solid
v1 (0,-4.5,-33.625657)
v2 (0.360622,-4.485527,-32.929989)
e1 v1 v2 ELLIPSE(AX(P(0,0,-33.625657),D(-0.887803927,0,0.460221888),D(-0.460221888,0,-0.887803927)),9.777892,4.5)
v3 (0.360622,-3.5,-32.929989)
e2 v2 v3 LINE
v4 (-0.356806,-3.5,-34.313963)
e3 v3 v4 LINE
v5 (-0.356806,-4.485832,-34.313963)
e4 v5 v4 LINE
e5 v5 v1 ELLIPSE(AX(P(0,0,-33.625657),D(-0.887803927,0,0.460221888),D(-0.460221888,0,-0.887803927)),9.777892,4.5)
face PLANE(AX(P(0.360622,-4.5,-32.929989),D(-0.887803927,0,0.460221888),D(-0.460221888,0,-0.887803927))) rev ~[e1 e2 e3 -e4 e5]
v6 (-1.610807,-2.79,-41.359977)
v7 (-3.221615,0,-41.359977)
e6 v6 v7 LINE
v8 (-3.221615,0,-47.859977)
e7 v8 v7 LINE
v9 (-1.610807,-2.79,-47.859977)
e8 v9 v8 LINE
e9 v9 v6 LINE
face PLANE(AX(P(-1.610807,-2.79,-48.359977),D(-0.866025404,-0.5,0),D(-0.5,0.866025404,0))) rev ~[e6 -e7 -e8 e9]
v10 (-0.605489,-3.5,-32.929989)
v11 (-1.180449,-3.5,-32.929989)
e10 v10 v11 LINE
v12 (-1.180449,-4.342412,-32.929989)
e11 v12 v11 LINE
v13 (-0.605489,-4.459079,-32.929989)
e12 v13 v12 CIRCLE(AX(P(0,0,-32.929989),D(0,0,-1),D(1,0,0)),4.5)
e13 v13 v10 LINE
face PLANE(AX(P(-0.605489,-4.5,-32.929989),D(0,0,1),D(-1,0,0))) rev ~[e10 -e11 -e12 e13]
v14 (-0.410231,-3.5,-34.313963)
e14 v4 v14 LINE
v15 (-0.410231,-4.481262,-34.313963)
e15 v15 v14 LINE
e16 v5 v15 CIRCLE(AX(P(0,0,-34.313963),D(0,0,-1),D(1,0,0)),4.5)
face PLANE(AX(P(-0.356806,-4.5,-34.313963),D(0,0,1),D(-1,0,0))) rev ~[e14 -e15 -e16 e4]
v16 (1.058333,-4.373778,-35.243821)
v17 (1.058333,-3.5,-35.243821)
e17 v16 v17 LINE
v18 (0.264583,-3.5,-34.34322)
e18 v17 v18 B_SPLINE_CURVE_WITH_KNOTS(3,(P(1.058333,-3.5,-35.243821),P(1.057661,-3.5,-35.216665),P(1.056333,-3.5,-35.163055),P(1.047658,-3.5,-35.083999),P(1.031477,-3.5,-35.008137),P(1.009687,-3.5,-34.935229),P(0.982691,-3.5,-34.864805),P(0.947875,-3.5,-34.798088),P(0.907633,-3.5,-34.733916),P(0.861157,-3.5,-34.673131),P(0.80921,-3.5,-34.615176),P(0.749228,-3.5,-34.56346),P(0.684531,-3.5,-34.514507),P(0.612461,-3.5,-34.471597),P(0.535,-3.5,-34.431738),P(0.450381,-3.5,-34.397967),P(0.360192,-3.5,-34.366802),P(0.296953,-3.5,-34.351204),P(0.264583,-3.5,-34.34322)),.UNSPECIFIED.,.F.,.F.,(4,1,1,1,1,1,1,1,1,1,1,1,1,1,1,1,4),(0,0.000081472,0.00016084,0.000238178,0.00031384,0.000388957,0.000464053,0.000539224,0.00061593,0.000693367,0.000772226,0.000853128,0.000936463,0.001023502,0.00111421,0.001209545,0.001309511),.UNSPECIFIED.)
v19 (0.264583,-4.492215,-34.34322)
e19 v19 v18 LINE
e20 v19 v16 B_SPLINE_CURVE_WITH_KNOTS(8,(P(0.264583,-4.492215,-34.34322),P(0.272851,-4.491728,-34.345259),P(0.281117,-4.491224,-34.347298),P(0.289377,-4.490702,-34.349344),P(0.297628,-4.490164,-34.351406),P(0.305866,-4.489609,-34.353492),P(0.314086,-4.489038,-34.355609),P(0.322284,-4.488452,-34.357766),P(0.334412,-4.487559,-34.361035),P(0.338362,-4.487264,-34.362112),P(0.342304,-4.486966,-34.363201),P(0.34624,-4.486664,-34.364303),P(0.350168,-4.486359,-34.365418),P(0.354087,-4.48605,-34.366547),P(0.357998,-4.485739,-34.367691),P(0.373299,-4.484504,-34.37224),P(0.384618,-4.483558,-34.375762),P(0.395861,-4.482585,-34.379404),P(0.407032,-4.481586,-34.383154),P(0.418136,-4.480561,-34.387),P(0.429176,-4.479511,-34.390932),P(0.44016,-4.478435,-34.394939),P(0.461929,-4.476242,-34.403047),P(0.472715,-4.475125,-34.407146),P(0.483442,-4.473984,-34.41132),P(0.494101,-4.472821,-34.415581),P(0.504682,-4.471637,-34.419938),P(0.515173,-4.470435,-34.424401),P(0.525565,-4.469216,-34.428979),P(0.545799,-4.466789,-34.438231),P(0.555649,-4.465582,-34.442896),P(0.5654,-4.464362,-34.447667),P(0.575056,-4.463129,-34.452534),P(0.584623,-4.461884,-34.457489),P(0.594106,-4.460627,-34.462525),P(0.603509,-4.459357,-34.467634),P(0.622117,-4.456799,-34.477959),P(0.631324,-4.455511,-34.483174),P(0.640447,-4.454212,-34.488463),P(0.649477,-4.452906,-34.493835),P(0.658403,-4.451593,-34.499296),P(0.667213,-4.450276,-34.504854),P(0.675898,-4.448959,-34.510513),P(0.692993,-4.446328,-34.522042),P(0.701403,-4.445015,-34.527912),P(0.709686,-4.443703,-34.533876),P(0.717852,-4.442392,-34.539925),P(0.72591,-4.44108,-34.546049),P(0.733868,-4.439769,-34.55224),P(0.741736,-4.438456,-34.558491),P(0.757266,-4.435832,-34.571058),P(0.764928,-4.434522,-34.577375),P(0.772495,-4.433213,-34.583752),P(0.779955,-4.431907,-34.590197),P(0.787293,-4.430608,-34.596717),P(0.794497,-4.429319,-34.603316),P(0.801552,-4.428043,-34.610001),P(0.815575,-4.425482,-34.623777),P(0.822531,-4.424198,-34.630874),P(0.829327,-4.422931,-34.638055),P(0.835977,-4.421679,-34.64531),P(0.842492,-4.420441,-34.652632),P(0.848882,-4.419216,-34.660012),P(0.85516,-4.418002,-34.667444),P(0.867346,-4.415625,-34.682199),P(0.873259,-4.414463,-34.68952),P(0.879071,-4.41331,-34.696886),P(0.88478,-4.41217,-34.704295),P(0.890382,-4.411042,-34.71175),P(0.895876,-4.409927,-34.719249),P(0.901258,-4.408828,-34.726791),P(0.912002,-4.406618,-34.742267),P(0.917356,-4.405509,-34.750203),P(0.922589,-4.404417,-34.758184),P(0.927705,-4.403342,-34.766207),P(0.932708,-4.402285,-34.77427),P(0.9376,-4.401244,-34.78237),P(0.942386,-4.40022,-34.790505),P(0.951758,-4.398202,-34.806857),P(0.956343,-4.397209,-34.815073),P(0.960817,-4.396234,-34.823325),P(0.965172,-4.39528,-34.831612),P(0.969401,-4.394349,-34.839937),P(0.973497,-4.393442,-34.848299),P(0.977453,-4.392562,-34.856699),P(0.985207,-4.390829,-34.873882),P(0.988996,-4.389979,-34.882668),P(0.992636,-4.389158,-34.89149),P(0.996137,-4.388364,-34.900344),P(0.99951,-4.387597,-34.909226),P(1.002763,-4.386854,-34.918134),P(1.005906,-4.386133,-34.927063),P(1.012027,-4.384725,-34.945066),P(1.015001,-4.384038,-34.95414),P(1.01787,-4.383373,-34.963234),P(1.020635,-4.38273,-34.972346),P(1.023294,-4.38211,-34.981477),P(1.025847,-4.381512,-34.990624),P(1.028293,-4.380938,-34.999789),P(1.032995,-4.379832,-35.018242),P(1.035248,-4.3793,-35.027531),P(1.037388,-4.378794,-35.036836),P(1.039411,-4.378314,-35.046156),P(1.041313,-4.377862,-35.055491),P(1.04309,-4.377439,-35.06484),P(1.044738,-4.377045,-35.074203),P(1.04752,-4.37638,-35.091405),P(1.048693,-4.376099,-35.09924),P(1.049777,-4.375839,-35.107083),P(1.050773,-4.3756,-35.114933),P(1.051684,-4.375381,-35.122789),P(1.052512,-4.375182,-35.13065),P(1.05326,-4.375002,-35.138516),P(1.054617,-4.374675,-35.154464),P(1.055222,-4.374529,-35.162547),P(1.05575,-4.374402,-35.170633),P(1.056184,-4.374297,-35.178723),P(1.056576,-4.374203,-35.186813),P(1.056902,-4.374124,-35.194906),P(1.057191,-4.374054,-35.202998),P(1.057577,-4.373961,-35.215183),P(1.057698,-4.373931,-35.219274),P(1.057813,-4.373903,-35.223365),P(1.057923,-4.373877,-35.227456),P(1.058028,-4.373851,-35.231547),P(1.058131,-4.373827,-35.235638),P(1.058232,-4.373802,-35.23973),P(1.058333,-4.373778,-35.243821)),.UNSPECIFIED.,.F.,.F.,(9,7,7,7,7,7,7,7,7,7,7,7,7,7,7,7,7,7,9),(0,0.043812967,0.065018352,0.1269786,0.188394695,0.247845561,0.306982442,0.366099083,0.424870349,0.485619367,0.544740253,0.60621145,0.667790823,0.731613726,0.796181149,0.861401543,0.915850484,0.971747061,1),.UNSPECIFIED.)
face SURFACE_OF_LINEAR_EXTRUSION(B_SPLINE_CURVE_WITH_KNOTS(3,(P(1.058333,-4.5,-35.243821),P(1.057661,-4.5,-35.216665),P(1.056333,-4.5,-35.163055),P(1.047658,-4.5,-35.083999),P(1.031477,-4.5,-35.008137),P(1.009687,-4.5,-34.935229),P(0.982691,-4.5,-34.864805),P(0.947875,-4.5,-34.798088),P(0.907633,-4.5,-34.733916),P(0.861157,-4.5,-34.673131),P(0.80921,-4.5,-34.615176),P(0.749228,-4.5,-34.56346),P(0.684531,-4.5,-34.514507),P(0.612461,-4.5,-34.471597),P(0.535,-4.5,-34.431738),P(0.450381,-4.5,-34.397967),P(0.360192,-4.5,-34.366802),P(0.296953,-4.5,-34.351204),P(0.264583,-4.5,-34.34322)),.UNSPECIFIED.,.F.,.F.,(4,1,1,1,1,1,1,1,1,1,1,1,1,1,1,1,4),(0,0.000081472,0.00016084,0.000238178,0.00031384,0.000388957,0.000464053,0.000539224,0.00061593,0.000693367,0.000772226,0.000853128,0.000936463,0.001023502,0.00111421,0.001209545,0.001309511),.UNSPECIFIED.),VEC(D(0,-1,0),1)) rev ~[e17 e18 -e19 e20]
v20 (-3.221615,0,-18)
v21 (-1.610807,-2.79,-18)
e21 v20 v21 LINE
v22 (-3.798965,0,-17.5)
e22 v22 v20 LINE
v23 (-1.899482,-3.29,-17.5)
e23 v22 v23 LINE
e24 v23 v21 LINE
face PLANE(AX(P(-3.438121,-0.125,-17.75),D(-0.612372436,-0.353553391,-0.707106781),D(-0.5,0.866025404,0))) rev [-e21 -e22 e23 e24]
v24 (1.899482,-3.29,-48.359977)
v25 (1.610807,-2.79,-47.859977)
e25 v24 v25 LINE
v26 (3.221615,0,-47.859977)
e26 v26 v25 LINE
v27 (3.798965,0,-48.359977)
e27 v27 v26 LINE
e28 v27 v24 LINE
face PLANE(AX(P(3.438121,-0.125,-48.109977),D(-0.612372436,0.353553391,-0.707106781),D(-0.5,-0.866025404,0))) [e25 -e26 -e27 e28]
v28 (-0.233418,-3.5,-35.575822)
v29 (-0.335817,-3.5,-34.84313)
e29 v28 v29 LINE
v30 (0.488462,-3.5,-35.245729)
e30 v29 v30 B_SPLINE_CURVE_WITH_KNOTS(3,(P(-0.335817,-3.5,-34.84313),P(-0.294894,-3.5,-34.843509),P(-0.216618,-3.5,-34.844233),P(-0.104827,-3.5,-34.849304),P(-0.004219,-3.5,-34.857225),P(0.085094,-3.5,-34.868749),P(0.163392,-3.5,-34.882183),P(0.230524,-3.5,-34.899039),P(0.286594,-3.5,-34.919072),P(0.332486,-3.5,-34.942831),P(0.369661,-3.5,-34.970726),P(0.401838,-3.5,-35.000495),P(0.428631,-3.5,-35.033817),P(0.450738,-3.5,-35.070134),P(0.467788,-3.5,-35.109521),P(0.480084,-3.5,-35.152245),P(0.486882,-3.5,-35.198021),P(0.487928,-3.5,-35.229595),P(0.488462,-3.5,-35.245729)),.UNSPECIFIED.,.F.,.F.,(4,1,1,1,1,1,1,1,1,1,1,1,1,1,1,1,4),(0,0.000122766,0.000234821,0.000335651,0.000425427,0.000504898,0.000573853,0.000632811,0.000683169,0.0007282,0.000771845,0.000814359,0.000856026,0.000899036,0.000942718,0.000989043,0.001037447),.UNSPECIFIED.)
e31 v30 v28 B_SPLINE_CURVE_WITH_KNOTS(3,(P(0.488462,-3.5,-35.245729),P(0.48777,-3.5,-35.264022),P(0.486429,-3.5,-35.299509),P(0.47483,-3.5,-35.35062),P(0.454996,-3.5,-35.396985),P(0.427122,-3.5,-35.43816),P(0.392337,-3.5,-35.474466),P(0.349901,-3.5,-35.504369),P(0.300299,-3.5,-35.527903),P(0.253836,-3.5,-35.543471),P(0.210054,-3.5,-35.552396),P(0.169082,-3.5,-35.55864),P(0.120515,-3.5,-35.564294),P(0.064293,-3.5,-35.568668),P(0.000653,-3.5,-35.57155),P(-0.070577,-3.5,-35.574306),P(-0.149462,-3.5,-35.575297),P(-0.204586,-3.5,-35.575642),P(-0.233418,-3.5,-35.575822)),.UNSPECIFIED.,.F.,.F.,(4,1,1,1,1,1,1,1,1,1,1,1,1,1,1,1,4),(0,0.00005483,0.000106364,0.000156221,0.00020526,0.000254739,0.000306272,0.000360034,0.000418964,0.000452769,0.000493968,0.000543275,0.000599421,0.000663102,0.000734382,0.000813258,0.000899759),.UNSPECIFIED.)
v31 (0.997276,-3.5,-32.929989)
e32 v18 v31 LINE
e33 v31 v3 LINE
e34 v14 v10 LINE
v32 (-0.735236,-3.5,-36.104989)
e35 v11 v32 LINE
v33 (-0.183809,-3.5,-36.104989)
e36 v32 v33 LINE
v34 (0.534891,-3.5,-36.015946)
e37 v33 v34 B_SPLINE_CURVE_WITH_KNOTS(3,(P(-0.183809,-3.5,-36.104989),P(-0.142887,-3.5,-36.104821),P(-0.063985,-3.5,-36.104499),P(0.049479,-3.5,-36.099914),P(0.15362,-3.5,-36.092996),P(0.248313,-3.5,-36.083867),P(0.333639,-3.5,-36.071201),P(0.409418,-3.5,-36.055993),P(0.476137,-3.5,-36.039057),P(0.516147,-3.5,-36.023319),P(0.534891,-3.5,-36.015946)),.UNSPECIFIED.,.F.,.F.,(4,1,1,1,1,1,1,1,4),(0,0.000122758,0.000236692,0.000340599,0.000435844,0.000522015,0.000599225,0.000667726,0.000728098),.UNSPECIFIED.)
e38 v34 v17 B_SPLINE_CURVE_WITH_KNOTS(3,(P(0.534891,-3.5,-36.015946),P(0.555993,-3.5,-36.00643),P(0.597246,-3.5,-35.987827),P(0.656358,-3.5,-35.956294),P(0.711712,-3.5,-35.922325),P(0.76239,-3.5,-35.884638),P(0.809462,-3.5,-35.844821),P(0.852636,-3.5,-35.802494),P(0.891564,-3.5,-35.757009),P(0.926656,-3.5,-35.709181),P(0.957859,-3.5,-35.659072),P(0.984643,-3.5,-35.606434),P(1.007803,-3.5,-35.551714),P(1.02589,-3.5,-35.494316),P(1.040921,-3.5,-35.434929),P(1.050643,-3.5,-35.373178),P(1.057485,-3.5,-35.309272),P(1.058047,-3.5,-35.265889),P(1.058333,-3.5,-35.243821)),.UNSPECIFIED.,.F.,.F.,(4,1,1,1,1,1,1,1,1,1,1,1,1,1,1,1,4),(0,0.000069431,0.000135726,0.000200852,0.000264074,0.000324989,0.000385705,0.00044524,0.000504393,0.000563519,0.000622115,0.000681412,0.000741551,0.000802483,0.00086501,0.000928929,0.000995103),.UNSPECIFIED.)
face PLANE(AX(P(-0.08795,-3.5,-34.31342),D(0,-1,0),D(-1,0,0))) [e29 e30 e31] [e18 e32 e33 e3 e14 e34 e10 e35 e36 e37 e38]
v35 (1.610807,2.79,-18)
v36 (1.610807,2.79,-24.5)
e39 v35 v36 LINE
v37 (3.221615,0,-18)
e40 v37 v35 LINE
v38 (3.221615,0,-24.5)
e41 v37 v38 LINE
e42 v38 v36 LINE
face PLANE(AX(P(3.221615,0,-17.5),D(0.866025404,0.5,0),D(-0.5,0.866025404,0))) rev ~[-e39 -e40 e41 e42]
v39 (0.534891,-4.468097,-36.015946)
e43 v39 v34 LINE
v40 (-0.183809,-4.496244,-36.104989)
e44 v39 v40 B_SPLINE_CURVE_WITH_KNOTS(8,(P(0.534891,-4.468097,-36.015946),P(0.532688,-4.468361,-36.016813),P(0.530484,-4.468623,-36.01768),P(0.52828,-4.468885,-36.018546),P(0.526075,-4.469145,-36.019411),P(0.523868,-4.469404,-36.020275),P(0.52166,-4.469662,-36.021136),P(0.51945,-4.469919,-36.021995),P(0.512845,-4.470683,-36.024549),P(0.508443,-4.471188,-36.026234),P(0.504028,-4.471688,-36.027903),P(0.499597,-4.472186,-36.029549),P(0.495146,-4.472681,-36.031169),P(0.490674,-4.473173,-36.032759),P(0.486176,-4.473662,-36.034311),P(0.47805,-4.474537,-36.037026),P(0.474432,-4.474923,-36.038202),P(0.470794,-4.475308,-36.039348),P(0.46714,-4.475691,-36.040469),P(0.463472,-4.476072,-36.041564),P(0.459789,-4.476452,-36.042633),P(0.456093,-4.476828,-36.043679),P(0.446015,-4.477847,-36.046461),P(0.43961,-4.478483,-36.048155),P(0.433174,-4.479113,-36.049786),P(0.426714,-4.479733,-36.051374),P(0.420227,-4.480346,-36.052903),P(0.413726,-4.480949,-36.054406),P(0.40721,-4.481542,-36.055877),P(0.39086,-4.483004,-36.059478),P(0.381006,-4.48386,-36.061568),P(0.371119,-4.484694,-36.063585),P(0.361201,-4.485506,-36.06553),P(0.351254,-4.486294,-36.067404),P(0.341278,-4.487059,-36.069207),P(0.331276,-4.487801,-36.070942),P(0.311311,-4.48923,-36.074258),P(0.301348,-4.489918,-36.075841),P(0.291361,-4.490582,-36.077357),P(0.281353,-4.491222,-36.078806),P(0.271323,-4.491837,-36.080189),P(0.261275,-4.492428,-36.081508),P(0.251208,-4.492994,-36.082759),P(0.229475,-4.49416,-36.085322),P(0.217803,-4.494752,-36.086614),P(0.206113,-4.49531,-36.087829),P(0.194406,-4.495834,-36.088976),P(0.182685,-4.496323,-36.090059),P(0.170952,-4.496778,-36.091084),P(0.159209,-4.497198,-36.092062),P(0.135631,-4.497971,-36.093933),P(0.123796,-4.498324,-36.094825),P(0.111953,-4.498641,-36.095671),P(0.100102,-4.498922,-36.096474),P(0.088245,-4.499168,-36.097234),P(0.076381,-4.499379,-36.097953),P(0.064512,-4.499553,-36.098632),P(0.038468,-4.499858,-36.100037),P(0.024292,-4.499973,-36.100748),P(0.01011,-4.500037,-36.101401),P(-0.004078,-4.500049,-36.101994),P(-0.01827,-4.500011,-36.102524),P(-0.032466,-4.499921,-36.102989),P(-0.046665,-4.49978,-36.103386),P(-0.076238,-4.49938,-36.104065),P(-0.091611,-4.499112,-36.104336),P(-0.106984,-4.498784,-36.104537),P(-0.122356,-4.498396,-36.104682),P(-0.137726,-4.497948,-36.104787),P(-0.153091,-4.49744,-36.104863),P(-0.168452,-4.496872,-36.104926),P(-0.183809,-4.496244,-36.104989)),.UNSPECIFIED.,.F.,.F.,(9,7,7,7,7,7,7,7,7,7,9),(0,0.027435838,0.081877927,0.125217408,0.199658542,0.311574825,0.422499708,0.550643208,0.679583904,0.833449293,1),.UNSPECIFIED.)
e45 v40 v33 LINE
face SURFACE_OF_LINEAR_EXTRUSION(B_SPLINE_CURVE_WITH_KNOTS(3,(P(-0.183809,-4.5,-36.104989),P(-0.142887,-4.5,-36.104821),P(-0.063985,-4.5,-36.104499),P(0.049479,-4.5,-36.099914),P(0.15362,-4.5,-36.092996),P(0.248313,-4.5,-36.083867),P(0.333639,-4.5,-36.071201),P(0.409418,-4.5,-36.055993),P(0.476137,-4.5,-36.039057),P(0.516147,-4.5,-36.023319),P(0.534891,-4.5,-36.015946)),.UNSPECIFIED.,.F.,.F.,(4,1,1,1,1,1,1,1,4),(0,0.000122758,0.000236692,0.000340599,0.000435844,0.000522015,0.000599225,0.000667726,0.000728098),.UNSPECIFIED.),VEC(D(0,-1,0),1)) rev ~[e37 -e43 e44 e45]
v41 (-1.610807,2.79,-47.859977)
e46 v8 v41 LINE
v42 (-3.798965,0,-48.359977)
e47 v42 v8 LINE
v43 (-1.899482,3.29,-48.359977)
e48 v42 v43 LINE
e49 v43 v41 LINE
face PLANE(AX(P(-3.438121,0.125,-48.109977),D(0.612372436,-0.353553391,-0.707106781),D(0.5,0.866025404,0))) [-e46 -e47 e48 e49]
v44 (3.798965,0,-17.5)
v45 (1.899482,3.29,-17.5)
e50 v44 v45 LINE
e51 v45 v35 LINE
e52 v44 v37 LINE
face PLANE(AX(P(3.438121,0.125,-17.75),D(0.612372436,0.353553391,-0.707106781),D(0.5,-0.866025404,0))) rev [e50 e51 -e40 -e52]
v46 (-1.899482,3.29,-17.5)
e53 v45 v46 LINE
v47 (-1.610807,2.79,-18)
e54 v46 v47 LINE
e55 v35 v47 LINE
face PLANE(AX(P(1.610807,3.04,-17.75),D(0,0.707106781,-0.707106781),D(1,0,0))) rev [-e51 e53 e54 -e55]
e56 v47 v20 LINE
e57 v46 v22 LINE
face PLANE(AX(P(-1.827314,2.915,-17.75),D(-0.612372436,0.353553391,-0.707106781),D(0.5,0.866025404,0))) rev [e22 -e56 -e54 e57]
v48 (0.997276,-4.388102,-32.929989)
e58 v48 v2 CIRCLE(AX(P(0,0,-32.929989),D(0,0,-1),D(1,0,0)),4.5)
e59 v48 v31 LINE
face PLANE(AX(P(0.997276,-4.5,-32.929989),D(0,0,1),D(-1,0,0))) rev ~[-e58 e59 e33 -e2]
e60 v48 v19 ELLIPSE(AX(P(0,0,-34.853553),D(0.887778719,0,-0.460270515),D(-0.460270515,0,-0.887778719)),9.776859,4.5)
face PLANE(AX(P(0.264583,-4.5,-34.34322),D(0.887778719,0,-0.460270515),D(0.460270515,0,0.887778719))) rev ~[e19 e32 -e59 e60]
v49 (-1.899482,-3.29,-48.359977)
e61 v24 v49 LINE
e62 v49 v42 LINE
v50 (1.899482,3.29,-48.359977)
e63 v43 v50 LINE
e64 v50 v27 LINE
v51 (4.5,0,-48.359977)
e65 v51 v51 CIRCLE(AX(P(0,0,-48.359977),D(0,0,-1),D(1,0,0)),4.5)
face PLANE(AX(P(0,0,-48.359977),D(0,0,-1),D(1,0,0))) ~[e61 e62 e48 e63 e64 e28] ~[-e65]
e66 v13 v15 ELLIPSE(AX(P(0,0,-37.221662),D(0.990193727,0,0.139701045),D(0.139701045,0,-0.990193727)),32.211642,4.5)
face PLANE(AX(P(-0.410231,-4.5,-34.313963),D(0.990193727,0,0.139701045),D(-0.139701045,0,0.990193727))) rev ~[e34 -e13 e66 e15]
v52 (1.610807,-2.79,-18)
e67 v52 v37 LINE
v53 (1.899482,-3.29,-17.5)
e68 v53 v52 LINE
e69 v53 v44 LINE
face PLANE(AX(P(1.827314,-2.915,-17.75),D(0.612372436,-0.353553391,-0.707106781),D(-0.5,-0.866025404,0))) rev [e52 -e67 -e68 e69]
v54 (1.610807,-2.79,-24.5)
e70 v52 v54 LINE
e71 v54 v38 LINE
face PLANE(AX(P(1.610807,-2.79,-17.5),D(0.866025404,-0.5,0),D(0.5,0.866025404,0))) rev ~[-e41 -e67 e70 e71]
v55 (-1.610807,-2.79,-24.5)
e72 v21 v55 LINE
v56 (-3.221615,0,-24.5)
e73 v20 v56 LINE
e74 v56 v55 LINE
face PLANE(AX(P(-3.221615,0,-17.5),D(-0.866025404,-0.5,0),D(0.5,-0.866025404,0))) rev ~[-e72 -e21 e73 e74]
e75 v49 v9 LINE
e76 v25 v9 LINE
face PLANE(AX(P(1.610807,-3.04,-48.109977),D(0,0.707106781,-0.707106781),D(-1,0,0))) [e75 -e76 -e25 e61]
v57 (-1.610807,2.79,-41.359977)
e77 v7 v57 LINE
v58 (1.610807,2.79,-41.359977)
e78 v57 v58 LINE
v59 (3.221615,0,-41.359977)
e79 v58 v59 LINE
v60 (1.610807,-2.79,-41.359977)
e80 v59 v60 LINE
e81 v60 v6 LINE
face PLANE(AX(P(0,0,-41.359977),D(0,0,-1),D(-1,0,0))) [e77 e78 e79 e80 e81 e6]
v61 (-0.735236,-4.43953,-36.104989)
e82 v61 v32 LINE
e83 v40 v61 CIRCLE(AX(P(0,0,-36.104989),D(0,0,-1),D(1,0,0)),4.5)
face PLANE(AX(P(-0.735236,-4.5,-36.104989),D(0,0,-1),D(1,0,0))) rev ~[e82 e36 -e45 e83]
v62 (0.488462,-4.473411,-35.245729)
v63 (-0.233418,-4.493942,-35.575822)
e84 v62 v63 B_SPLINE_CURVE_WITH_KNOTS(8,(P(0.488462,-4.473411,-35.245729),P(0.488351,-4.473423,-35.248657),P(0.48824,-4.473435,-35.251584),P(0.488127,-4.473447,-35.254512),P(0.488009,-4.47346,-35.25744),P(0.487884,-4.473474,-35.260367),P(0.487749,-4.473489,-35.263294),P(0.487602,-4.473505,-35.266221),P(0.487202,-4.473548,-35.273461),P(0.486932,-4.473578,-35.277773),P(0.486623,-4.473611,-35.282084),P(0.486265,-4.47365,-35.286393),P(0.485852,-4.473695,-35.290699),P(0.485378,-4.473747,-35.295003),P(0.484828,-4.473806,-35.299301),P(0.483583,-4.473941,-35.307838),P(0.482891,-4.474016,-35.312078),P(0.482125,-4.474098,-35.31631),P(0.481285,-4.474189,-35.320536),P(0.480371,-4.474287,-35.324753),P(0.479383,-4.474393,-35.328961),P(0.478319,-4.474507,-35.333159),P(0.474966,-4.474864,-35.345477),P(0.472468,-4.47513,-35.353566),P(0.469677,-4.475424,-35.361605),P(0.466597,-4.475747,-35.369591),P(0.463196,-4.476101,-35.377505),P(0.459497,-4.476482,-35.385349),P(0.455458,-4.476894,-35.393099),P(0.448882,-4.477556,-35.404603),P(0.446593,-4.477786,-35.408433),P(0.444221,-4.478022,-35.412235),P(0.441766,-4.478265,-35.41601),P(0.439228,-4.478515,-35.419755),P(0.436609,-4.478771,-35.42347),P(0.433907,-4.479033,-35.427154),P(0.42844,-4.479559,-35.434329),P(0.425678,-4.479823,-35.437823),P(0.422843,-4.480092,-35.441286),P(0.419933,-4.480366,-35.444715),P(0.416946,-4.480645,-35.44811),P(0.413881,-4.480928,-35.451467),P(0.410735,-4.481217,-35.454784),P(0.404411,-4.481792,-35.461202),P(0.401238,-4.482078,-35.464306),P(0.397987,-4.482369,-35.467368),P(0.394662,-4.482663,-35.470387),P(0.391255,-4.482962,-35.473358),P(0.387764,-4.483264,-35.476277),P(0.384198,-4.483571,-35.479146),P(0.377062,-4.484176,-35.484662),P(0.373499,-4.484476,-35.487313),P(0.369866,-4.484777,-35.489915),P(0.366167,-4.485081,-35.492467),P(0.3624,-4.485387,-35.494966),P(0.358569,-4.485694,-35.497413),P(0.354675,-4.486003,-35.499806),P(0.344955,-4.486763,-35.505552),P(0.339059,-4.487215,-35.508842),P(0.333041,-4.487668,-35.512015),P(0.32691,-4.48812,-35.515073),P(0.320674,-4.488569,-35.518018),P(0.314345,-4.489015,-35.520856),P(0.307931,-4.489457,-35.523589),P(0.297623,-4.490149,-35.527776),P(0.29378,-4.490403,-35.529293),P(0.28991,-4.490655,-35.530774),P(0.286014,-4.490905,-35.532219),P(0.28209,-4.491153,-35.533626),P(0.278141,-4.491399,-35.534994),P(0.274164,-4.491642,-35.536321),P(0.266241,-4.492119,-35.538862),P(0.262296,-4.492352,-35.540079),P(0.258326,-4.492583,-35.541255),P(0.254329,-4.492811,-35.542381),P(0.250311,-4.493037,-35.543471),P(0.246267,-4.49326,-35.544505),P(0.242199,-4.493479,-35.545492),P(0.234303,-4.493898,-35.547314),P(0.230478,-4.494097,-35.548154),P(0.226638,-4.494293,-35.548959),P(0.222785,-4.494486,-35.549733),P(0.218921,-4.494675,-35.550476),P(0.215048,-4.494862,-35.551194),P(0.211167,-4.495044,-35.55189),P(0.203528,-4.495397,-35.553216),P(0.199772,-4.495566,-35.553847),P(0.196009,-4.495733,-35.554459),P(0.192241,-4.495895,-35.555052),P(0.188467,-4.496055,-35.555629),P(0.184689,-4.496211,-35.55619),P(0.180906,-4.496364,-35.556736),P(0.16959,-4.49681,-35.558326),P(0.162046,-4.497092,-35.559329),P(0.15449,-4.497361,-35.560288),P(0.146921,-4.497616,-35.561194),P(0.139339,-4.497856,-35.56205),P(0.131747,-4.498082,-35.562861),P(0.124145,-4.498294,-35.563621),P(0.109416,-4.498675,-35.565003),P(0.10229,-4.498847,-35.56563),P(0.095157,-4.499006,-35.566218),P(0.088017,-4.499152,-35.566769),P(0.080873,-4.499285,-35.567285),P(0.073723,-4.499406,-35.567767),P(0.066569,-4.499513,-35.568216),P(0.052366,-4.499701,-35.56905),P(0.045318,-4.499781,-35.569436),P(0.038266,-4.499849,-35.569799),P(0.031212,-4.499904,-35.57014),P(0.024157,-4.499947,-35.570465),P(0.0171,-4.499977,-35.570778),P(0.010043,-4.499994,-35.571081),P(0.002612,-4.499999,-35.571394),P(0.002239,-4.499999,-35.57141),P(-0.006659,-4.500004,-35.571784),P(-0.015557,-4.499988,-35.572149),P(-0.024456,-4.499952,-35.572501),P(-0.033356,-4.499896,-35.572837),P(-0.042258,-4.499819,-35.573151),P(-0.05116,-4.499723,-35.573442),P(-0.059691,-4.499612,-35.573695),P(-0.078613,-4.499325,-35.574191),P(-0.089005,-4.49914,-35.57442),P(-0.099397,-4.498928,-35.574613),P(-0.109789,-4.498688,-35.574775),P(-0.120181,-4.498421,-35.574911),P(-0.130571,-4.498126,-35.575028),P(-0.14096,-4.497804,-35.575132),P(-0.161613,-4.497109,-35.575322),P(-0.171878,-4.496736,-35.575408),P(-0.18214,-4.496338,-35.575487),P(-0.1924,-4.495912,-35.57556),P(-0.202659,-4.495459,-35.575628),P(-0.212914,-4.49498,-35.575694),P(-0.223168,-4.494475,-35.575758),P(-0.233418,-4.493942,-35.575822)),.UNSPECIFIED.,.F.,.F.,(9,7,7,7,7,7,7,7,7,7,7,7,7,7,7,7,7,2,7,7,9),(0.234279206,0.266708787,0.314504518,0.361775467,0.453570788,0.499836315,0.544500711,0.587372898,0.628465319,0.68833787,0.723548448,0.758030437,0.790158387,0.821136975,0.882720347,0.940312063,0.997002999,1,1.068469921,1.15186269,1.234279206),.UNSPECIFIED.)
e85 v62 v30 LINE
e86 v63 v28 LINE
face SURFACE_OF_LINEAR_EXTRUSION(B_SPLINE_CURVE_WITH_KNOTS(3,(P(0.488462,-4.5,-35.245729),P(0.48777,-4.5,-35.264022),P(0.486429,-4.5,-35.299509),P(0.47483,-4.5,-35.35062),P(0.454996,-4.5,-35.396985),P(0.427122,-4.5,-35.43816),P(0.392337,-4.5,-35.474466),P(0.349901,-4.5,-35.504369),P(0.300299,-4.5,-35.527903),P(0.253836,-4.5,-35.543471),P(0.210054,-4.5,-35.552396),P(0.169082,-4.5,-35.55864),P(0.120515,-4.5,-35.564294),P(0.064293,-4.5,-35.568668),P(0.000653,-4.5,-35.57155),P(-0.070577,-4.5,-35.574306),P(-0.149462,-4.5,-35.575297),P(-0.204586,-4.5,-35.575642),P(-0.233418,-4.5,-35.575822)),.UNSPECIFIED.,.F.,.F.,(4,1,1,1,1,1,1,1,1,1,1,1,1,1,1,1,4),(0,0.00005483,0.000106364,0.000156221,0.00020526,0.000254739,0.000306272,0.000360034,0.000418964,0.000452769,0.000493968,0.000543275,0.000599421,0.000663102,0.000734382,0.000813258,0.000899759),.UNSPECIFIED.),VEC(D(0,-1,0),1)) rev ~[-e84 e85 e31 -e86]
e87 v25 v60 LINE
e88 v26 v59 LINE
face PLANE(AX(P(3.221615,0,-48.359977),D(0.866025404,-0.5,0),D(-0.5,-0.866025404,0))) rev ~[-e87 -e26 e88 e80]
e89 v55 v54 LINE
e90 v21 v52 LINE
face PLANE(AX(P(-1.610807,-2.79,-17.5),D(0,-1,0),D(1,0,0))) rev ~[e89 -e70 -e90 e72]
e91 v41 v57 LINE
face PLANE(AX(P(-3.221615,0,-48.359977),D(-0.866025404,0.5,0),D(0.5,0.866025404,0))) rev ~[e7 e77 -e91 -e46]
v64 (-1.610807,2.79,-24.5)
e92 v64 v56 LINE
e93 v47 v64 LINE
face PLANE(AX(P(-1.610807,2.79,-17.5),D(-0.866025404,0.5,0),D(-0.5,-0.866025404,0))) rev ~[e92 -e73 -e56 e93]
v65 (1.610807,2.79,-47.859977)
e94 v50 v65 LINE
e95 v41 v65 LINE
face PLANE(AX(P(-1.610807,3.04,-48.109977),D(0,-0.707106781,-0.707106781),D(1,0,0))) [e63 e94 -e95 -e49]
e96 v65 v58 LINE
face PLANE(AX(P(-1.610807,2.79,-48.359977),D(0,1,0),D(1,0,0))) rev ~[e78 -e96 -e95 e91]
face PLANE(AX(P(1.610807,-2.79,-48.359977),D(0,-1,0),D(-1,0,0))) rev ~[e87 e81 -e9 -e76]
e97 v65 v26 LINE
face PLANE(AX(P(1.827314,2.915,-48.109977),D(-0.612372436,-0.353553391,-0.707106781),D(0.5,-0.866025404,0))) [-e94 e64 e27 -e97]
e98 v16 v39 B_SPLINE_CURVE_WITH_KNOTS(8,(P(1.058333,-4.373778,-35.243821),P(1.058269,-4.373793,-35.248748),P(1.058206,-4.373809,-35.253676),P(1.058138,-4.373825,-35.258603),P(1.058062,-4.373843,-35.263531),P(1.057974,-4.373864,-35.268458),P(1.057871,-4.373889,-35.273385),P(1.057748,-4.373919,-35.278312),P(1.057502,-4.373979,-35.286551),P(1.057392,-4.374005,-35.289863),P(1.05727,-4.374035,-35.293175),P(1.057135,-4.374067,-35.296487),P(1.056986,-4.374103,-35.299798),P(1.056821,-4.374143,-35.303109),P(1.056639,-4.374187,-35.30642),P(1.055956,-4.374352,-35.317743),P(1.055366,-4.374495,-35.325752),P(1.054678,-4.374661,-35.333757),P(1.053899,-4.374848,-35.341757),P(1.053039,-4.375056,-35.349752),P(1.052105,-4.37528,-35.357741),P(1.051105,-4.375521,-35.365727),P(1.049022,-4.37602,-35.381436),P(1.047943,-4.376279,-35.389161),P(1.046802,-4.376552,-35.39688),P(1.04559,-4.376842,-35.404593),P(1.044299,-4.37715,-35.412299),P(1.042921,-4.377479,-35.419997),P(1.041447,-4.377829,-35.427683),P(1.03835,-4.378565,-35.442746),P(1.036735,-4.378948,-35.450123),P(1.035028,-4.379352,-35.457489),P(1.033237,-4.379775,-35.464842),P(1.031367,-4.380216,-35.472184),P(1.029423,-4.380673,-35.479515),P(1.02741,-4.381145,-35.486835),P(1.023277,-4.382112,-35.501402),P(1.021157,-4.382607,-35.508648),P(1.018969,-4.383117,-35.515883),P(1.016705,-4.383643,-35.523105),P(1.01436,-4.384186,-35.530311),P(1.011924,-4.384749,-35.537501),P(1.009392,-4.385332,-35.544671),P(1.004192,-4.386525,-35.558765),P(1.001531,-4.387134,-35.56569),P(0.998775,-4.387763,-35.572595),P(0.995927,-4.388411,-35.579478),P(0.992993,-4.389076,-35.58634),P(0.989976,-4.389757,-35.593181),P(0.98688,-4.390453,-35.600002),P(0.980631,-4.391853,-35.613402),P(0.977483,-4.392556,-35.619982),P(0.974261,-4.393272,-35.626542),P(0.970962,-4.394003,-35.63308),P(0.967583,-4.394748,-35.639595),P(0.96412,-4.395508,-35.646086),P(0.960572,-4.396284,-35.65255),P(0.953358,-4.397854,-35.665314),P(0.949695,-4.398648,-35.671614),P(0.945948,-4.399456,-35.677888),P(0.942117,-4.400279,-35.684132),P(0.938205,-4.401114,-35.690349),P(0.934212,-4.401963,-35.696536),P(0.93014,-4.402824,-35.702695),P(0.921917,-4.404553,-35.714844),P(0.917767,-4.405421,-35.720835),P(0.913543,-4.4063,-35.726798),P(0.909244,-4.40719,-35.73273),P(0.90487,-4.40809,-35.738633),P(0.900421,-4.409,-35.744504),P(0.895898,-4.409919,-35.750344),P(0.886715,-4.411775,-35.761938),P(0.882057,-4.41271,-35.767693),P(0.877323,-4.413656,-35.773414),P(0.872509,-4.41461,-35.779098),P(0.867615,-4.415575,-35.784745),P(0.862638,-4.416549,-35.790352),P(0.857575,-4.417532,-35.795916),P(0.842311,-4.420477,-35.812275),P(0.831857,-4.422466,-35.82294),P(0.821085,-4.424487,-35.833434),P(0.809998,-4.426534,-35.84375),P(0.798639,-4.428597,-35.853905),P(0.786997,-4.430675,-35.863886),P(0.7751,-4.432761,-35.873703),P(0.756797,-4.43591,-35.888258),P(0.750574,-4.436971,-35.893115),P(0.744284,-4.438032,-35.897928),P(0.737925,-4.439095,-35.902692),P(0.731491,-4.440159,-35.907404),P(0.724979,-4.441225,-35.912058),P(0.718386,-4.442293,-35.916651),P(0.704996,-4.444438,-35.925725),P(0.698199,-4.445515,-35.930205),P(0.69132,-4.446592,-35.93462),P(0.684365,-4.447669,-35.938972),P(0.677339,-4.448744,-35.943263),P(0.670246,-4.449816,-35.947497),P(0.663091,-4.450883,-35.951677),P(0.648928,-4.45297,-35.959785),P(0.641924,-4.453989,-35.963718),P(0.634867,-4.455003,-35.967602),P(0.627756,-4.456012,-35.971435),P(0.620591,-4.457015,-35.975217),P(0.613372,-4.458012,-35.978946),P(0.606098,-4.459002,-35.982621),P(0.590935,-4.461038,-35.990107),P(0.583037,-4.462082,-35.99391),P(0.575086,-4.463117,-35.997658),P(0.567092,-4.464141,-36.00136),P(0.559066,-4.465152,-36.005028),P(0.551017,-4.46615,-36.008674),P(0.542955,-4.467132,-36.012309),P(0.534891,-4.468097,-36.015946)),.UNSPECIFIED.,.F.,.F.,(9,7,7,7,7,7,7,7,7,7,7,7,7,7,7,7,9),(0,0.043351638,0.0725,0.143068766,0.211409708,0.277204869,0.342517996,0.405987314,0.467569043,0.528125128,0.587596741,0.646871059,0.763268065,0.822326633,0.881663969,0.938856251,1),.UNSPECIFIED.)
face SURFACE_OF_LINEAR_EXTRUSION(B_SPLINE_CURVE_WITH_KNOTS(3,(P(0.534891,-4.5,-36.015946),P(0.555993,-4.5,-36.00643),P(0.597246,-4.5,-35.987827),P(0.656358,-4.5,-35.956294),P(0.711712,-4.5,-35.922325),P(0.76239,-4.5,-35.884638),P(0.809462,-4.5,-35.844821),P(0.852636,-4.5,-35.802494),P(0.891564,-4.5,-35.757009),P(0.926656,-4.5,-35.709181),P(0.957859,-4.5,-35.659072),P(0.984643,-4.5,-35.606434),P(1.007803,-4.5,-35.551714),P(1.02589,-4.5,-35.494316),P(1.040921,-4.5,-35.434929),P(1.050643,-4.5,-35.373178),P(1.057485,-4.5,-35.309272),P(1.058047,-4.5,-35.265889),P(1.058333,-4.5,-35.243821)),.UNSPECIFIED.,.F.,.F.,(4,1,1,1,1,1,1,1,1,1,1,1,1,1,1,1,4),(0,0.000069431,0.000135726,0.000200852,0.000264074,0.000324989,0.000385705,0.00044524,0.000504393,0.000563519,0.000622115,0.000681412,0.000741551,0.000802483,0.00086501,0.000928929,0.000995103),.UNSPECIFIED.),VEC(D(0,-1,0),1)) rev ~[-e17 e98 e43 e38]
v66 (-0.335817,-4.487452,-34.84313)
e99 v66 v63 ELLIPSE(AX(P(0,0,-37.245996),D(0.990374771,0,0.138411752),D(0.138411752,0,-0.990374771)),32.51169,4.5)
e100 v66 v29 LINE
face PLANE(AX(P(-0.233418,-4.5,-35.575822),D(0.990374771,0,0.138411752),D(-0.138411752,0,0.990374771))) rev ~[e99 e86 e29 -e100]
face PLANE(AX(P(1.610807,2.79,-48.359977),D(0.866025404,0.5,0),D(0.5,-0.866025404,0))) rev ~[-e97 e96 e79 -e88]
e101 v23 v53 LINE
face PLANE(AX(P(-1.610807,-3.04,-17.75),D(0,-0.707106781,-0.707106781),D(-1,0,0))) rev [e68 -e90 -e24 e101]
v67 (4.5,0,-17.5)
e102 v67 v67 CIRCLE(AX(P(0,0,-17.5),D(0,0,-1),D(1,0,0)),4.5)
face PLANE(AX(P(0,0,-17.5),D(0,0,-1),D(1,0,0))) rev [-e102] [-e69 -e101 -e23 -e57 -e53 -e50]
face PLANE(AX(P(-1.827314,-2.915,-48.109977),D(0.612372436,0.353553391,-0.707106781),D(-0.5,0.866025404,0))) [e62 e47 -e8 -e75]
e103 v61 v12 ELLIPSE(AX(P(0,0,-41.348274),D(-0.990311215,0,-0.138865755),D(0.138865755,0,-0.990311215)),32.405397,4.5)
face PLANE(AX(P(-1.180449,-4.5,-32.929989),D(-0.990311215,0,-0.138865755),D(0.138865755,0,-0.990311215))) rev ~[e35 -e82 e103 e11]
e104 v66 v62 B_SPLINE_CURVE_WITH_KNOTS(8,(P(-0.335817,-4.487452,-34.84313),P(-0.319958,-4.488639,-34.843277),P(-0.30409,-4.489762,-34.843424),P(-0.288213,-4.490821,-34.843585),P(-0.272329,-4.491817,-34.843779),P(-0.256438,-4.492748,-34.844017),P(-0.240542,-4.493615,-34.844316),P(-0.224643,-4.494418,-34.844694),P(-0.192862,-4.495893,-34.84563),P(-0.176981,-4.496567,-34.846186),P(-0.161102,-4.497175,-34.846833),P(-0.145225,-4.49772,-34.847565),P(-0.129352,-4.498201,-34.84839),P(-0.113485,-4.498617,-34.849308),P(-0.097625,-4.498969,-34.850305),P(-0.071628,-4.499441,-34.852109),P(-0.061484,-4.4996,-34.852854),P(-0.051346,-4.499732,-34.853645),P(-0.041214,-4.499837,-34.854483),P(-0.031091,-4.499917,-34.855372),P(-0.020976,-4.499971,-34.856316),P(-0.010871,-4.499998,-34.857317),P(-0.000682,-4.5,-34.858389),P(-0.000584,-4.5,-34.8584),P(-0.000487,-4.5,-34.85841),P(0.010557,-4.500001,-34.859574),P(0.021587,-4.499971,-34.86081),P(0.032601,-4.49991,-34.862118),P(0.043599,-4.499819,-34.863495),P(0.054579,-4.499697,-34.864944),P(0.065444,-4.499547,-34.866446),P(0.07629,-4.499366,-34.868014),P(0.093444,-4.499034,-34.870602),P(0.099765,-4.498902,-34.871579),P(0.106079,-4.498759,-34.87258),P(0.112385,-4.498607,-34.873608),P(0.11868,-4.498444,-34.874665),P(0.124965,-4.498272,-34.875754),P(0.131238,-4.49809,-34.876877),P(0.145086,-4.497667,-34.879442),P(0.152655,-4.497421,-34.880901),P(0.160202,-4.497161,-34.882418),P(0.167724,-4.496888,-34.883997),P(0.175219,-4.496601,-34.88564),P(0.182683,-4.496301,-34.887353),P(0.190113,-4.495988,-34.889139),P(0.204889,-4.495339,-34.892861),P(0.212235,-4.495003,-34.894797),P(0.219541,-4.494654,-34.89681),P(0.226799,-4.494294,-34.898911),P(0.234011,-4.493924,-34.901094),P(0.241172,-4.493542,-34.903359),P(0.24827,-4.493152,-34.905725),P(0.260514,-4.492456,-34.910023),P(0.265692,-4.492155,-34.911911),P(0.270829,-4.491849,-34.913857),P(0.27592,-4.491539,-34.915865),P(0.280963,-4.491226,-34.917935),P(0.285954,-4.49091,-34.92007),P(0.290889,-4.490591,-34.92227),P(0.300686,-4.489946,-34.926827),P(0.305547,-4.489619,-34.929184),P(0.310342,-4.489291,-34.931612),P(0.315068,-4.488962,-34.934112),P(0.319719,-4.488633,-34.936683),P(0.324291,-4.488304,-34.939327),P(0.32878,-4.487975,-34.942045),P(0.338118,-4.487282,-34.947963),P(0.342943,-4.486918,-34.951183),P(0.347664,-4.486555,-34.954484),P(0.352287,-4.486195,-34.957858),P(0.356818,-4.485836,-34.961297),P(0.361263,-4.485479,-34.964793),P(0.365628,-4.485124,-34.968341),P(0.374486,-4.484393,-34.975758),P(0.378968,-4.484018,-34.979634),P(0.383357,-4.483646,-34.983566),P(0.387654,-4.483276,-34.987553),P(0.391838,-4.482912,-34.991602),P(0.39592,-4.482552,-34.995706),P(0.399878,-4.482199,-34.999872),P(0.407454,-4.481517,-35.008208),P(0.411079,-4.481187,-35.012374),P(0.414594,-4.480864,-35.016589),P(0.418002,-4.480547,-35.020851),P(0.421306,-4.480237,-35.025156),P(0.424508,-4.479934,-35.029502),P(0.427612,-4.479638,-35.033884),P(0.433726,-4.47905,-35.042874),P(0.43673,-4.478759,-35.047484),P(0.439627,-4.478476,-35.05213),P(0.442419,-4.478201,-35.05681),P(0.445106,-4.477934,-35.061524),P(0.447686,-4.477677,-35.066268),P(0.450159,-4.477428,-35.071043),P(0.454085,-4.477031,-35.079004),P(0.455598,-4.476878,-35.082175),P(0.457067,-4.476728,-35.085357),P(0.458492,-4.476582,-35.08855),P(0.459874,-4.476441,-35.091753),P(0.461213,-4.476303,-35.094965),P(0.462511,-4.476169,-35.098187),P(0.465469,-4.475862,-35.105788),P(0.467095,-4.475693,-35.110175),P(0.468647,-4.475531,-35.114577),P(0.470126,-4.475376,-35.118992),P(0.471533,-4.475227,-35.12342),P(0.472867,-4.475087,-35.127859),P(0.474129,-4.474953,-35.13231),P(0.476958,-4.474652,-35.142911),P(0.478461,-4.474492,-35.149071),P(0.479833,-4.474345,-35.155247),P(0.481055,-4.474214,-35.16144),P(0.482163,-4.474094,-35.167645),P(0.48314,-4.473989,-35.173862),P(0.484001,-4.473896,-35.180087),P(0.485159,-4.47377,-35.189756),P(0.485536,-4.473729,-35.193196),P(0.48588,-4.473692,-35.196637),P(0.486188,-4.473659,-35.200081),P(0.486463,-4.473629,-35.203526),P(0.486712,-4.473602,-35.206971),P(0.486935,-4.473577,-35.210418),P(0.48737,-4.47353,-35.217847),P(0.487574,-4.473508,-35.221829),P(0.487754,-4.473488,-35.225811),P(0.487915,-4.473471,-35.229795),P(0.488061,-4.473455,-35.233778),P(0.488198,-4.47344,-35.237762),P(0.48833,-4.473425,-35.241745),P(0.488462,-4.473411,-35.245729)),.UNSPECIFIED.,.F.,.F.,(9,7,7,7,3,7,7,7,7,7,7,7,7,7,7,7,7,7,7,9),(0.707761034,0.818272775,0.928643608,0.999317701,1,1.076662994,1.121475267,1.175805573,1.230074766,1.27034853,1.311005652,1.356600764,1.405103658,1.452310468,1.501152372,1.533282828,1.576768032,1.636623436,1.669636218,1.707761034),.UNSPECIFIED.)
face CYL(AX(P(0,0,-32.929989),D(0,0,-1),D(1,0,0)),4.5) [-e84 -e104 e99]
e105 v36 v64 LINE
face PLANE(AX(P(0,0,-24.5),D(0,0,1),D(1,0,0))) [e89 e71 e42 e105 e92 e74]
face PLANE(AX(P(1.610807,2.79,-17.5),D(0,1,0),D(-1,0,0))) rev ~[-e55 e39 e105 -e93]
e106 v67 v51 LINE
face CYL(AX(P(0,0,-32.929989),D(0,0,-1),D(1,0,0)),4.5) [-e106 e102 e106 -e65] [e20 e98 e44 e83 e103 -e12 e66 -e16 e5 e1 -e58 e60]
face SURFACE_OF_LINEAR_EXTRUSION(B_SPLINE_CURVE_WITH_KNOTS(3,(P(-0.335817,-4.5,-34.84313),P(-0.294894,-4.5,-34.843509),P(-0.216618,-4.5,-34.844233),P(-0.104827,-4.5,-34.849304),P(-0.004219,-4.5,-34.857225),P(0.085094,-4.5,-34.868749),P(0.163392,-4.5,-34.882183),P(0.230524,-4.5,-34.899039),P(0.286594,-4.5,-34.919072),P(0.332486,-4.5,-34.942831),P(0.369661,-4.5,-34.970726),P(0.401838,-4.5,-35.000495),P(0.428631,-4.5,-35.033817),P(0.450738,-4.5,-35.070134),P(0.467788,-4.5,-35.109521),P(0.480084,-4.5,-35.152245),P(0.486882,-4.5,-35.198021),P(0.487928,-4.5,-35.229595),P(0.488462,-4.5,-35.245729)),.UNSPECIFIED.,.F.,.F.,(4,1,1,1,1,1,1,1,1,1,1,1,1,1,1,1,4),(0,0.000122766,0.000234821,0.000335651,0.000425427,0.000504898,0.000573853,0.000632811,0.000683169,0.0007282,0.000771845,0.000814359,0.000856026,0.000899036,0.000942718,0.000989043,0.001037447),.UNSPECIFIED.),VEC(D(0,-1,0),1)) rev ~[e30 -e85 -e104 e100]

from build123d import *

# Parameters (mm, degrees)
SKETCH1_W          = 4.5
SKETCH1_H          = 30.85997733
CUT_EXTRUDE1_DEPTH = 7
CUT_EXTRUDE2_DEPTH = 7
CHAMFER1_SIZE      = 0.5
CUT_EXTRUDE3_DEPTH = 1


with BuildPart() as part:
    # Sketch1 → Revolve-Thin1 (revolve)
    with BuildSketch(Plane(origin=(0, 0, 0), x_dir=(1, 0, 0), z_dir=(0, 1, 0))):
        with Locations((2.25, 32.929988665)):
            Rectangle(SKETCH1_W, SKETCH1_H)
    revolve(axis=Axis((0, 0, 0), (0, 0, -1)))

    # Sketch2 → Cut-Extrude1 (cut)
    with BuildSketch(Plane.XY.offset(-17.5)):
        Polygon((1.610807251, 2.79), (-1.610807251, 2.79), (-3.221614502, 0), (-1.610807251, -2.79), (1.610807251, -2.79), (3.221614502, 0), align=None)
    extrude(amount=-CUT_EXTRUDE1_DEPTH, mode=Mode.SUBTRACT)

    # Sketch3 → Cut-Extrude2 (cut)
    with BuildSketch(Plane(origin=(0, 0, -48.35997733), x_dir=(-1, 0, 0), z_dir=(0, 0, -1))):
        Polygon((1.610807251, 2.79), (-1.610807251, 2.79), (-3.221614502, 0), (-1.610807251, -2.79), (1.610807251, -2.79), (3.221614502, 0), align=None)
    extrude(amount=-CUT_EXTRUDE2_DEPTH, mode=Mode.SUBTRACT)

    # Chamfer1
    chamfer1_edges = [part.edges().sort_by_distance(p)[0] for p in [
        (2.416210877, 1.395, -17.5),
        (0, 2.79, -17.5),
        (-2.416210877, 1.395, -17.5),
        (-2.416210877, -1.395, -17.5),
        (0, -2.79, -17.5),
        (2.416210877, -1.395, -17.5),
        (-2.416210877, 1.395, -48.35997733),
        (0, 2.79, -48.35997733),
        (2.416210877, 1.395, -48.35997733),
        (2.416210877, -1.395, -48.35997733),
        (0, -2.79, -48.35997733),
        (-2.416210877, -1.395, -48.35997733),
    ]]
    chamfer(chamfer1_edges, length=CHAMFER1_SIZE)

    # Sketch4 → Cut-Extrude3 (cut)
    with BuildSketch(Plane(origin=(0, -4.5, 0), x_dir=(1, 0, 0), z_dir=(0, 1, 0))):
        with BuildLine():
            Line((-0.735236378, 36.104988665), (-0.183809095, 36.104988665))
            add(Edge.make_bspline(
                [(-0.183809095, 36.104988665), (-0.142887229, 36.104821435), (-0.063984952, 36.104498996), (0.049479088, 36.099913909), (0.153619775, 36.092996425), (0.248313279, 36.083867435), (0.333638661, 36.071201473), (0.40941848, 36.055993448), (0.47613676, 36.039057193), (0.516147477, 36.02331892), (0.534890825, 36.015946197)],
                knots=[0, 0, 0, 0, 0.000122758, 0.000236692, 0.000340599, 0.000435844, 0.000522015, 0.000599225, 0.000667726, 0.000728098, 0.000728098, 0.000728098, 0.000728098], degree=3))
            add(Edge.make_bspline(
                [(0.534890825, 36.015946197), (0.555993425, 36.006429933), (0.597245667, 35.987827142), (0.656357727, 35.95629427), (0.711711569, 35.922324809), (0.762389804, 35.884637999), (0.8094619, 35.84482071), (0.852635966, 35.802494227), (0.891564361, 35.757008969), (0.926655631, 35.709180776), (0.957858636, 35.659071505), (0.984643202, 35.606434054), (1.007803352, 35.551714066), (1.025889509, 35.49431609), (1.04092128, 35.434929127), (1.050643284, 35.373178483), (1.057485172, 35.309272455), (1.058047365, 35.265888615), (1.058333333, 35.243820796)],
                knots=[0, 0, 0, 0, 6.9431e-05, 0.000135726, 0.000200852, 0.000264074, 0.000324989, 0.000385705, 0.00044524, 0.000504393, 0.000563519, 0.000622115, 0.000681412, 0.000741551, 0.000802483, 0.00086501, 0.000928929, 0.000995103, 0.000995103, 0.000995103, 0.000995103], degree=3))
            add(Edge.make_bspline(
                [(1.058333333, 35.243820796), (1.057660809, 35.216664827), (1.056333136, 35.163054546), (1.047657842, 35.083998974), (1.031477343, 35.008136947), (1.009687089, 34.93522949), (0.982690716, 34.864804536), (0.947875359, 34.798087533), (0.907633136, 34.733916018), (0.861157476, 34.67313132), (0.809209736, 34.61517584), (0.749228296, 34.563460322), (0.684531415, 34.51450675), (0.612461254, 34.471597247), (0.53499992, 34.431738139), (0.45038063, 34.397967081), (0.360191554, 34.366801607), (0.296952619, 34.351203721), (0.264583333, 34.343219835)],
                knots=[0, 0, 0, 0, 8.1472e-05, 0.00016084, 0.000238178, 0.00031384, 0.000388957, 0.000464053, 0.000539224, 0.00061593, 0.000693367, 0.000772226, 0.000853128, 0.000936463, 0.001023502, 0.00111421, 0.001209545, 0.001309511, 0.001309511, 0.001309511, 0.001309511], degree=3))
            Line((0.264583333, 34.343219835), (0.997275641, 32.929988665))
            Line((0.997275641, 32.929988665), (0.360621995, 32.929988665))
            Line((0.360621995, 32.929988665), (-0.356805889, 34.313963024))
            Line((-0.356805889, 34.313963024), (-0.41023137, 34.313963024))
            Line((-0.41023137, 34.313963024), (-0.605488782, 32.929988665))
            Line((-0.605488782, 32.929988665), (-1.180448718, 32.929988665))
            Line((-1.180448718, 32.929988665), (-0.735236378, 36.104988665))
        make_face()
        with BuildLine():
            add(Edge.make_bspline(
                [(-0.335817308, 34.843129691), (-0.294894066, 34.843508532), (-0.2166182, 34.84423316), (-0.104827079, 34.849303715), (-0.004219131, 34.857224722), (0.08509361, 34.868749131), (0.16339231, 34.882182886), (0.230523904, 34.899038904), (0.286593934, 34.919072013), (0.332485643, 34.942831056), (0.369661123, 34.970726112), (0.40183809, 35.00049459), (0.428631207, 35.033817084), (0.450737928, 35.070134204), (0.467788114, 35.109521218), (0.480083934, 35.152244969), (0.486882391, 35.198020591), (0.487927508, 35.229595041), (0.488461538, 35.245728849)],
                knots=[0, 0, 0, 0, 0.000122766, 0.000234821, 0.000335651, 0.000425427, 0.000504898, 0.000573853, 0.000632811, 0.000683169, 0.0007282, 0.000771845, 0.000814359, 0.000856026, 0.000899036, 0.000942718, 0.000989043, 0.001037447, 0.001037447, 0.001037447, 0.001037447], degree=3))
            add(Edge.make_bspline(
                [(0.488461538, 35.245728849), (0.487770257, 35.264022258), (0.486429265, 35.299508964), (0.474830234, 35.35062006), (0.454996287, 35.39698474), (0.427122393, 35.438159863), (0.392337213, 35.474465682), (0.349901429, 35.504369125), (0.300298842, 35.527903238), (0.253836196, 35.543471254), (0.210053836, 35.552396101), (0.169082237, 35.558639509), (0.120514754, 35.564294057), (0.064292994, 35.568668304), (0.000652546, 35.571550346), (-0.070576621, 35.574306307), (-0.149461846, 35.575296954), (-0.204585812, 35.575641686), (-0.23341847, 35.575821998)],
                knots=[0, 0, 0, 0, 5.483e-05, 0.000106364, 0.000156221, 0.00020526, 0.000254739, 0.000306272, 0.000360034, 0.000418964, 0.000452769, 0.000493968, 0.000543275, 0.000599421, 0.000663102, 0.000734382, 0.000813258, 0.000899759, 0.000899759, 0.000899759, 0.000899759], degree=3))
            Line((-0.23341847, 35.575821998), (-0.335817308, 34.843129691))
        make_face(mode=Mode.SUBTRACT)
    extrude(amount=CUT_EXTRUDE3_DEPTH, mode=Mode.SUBTRACT)


solid = part.part
